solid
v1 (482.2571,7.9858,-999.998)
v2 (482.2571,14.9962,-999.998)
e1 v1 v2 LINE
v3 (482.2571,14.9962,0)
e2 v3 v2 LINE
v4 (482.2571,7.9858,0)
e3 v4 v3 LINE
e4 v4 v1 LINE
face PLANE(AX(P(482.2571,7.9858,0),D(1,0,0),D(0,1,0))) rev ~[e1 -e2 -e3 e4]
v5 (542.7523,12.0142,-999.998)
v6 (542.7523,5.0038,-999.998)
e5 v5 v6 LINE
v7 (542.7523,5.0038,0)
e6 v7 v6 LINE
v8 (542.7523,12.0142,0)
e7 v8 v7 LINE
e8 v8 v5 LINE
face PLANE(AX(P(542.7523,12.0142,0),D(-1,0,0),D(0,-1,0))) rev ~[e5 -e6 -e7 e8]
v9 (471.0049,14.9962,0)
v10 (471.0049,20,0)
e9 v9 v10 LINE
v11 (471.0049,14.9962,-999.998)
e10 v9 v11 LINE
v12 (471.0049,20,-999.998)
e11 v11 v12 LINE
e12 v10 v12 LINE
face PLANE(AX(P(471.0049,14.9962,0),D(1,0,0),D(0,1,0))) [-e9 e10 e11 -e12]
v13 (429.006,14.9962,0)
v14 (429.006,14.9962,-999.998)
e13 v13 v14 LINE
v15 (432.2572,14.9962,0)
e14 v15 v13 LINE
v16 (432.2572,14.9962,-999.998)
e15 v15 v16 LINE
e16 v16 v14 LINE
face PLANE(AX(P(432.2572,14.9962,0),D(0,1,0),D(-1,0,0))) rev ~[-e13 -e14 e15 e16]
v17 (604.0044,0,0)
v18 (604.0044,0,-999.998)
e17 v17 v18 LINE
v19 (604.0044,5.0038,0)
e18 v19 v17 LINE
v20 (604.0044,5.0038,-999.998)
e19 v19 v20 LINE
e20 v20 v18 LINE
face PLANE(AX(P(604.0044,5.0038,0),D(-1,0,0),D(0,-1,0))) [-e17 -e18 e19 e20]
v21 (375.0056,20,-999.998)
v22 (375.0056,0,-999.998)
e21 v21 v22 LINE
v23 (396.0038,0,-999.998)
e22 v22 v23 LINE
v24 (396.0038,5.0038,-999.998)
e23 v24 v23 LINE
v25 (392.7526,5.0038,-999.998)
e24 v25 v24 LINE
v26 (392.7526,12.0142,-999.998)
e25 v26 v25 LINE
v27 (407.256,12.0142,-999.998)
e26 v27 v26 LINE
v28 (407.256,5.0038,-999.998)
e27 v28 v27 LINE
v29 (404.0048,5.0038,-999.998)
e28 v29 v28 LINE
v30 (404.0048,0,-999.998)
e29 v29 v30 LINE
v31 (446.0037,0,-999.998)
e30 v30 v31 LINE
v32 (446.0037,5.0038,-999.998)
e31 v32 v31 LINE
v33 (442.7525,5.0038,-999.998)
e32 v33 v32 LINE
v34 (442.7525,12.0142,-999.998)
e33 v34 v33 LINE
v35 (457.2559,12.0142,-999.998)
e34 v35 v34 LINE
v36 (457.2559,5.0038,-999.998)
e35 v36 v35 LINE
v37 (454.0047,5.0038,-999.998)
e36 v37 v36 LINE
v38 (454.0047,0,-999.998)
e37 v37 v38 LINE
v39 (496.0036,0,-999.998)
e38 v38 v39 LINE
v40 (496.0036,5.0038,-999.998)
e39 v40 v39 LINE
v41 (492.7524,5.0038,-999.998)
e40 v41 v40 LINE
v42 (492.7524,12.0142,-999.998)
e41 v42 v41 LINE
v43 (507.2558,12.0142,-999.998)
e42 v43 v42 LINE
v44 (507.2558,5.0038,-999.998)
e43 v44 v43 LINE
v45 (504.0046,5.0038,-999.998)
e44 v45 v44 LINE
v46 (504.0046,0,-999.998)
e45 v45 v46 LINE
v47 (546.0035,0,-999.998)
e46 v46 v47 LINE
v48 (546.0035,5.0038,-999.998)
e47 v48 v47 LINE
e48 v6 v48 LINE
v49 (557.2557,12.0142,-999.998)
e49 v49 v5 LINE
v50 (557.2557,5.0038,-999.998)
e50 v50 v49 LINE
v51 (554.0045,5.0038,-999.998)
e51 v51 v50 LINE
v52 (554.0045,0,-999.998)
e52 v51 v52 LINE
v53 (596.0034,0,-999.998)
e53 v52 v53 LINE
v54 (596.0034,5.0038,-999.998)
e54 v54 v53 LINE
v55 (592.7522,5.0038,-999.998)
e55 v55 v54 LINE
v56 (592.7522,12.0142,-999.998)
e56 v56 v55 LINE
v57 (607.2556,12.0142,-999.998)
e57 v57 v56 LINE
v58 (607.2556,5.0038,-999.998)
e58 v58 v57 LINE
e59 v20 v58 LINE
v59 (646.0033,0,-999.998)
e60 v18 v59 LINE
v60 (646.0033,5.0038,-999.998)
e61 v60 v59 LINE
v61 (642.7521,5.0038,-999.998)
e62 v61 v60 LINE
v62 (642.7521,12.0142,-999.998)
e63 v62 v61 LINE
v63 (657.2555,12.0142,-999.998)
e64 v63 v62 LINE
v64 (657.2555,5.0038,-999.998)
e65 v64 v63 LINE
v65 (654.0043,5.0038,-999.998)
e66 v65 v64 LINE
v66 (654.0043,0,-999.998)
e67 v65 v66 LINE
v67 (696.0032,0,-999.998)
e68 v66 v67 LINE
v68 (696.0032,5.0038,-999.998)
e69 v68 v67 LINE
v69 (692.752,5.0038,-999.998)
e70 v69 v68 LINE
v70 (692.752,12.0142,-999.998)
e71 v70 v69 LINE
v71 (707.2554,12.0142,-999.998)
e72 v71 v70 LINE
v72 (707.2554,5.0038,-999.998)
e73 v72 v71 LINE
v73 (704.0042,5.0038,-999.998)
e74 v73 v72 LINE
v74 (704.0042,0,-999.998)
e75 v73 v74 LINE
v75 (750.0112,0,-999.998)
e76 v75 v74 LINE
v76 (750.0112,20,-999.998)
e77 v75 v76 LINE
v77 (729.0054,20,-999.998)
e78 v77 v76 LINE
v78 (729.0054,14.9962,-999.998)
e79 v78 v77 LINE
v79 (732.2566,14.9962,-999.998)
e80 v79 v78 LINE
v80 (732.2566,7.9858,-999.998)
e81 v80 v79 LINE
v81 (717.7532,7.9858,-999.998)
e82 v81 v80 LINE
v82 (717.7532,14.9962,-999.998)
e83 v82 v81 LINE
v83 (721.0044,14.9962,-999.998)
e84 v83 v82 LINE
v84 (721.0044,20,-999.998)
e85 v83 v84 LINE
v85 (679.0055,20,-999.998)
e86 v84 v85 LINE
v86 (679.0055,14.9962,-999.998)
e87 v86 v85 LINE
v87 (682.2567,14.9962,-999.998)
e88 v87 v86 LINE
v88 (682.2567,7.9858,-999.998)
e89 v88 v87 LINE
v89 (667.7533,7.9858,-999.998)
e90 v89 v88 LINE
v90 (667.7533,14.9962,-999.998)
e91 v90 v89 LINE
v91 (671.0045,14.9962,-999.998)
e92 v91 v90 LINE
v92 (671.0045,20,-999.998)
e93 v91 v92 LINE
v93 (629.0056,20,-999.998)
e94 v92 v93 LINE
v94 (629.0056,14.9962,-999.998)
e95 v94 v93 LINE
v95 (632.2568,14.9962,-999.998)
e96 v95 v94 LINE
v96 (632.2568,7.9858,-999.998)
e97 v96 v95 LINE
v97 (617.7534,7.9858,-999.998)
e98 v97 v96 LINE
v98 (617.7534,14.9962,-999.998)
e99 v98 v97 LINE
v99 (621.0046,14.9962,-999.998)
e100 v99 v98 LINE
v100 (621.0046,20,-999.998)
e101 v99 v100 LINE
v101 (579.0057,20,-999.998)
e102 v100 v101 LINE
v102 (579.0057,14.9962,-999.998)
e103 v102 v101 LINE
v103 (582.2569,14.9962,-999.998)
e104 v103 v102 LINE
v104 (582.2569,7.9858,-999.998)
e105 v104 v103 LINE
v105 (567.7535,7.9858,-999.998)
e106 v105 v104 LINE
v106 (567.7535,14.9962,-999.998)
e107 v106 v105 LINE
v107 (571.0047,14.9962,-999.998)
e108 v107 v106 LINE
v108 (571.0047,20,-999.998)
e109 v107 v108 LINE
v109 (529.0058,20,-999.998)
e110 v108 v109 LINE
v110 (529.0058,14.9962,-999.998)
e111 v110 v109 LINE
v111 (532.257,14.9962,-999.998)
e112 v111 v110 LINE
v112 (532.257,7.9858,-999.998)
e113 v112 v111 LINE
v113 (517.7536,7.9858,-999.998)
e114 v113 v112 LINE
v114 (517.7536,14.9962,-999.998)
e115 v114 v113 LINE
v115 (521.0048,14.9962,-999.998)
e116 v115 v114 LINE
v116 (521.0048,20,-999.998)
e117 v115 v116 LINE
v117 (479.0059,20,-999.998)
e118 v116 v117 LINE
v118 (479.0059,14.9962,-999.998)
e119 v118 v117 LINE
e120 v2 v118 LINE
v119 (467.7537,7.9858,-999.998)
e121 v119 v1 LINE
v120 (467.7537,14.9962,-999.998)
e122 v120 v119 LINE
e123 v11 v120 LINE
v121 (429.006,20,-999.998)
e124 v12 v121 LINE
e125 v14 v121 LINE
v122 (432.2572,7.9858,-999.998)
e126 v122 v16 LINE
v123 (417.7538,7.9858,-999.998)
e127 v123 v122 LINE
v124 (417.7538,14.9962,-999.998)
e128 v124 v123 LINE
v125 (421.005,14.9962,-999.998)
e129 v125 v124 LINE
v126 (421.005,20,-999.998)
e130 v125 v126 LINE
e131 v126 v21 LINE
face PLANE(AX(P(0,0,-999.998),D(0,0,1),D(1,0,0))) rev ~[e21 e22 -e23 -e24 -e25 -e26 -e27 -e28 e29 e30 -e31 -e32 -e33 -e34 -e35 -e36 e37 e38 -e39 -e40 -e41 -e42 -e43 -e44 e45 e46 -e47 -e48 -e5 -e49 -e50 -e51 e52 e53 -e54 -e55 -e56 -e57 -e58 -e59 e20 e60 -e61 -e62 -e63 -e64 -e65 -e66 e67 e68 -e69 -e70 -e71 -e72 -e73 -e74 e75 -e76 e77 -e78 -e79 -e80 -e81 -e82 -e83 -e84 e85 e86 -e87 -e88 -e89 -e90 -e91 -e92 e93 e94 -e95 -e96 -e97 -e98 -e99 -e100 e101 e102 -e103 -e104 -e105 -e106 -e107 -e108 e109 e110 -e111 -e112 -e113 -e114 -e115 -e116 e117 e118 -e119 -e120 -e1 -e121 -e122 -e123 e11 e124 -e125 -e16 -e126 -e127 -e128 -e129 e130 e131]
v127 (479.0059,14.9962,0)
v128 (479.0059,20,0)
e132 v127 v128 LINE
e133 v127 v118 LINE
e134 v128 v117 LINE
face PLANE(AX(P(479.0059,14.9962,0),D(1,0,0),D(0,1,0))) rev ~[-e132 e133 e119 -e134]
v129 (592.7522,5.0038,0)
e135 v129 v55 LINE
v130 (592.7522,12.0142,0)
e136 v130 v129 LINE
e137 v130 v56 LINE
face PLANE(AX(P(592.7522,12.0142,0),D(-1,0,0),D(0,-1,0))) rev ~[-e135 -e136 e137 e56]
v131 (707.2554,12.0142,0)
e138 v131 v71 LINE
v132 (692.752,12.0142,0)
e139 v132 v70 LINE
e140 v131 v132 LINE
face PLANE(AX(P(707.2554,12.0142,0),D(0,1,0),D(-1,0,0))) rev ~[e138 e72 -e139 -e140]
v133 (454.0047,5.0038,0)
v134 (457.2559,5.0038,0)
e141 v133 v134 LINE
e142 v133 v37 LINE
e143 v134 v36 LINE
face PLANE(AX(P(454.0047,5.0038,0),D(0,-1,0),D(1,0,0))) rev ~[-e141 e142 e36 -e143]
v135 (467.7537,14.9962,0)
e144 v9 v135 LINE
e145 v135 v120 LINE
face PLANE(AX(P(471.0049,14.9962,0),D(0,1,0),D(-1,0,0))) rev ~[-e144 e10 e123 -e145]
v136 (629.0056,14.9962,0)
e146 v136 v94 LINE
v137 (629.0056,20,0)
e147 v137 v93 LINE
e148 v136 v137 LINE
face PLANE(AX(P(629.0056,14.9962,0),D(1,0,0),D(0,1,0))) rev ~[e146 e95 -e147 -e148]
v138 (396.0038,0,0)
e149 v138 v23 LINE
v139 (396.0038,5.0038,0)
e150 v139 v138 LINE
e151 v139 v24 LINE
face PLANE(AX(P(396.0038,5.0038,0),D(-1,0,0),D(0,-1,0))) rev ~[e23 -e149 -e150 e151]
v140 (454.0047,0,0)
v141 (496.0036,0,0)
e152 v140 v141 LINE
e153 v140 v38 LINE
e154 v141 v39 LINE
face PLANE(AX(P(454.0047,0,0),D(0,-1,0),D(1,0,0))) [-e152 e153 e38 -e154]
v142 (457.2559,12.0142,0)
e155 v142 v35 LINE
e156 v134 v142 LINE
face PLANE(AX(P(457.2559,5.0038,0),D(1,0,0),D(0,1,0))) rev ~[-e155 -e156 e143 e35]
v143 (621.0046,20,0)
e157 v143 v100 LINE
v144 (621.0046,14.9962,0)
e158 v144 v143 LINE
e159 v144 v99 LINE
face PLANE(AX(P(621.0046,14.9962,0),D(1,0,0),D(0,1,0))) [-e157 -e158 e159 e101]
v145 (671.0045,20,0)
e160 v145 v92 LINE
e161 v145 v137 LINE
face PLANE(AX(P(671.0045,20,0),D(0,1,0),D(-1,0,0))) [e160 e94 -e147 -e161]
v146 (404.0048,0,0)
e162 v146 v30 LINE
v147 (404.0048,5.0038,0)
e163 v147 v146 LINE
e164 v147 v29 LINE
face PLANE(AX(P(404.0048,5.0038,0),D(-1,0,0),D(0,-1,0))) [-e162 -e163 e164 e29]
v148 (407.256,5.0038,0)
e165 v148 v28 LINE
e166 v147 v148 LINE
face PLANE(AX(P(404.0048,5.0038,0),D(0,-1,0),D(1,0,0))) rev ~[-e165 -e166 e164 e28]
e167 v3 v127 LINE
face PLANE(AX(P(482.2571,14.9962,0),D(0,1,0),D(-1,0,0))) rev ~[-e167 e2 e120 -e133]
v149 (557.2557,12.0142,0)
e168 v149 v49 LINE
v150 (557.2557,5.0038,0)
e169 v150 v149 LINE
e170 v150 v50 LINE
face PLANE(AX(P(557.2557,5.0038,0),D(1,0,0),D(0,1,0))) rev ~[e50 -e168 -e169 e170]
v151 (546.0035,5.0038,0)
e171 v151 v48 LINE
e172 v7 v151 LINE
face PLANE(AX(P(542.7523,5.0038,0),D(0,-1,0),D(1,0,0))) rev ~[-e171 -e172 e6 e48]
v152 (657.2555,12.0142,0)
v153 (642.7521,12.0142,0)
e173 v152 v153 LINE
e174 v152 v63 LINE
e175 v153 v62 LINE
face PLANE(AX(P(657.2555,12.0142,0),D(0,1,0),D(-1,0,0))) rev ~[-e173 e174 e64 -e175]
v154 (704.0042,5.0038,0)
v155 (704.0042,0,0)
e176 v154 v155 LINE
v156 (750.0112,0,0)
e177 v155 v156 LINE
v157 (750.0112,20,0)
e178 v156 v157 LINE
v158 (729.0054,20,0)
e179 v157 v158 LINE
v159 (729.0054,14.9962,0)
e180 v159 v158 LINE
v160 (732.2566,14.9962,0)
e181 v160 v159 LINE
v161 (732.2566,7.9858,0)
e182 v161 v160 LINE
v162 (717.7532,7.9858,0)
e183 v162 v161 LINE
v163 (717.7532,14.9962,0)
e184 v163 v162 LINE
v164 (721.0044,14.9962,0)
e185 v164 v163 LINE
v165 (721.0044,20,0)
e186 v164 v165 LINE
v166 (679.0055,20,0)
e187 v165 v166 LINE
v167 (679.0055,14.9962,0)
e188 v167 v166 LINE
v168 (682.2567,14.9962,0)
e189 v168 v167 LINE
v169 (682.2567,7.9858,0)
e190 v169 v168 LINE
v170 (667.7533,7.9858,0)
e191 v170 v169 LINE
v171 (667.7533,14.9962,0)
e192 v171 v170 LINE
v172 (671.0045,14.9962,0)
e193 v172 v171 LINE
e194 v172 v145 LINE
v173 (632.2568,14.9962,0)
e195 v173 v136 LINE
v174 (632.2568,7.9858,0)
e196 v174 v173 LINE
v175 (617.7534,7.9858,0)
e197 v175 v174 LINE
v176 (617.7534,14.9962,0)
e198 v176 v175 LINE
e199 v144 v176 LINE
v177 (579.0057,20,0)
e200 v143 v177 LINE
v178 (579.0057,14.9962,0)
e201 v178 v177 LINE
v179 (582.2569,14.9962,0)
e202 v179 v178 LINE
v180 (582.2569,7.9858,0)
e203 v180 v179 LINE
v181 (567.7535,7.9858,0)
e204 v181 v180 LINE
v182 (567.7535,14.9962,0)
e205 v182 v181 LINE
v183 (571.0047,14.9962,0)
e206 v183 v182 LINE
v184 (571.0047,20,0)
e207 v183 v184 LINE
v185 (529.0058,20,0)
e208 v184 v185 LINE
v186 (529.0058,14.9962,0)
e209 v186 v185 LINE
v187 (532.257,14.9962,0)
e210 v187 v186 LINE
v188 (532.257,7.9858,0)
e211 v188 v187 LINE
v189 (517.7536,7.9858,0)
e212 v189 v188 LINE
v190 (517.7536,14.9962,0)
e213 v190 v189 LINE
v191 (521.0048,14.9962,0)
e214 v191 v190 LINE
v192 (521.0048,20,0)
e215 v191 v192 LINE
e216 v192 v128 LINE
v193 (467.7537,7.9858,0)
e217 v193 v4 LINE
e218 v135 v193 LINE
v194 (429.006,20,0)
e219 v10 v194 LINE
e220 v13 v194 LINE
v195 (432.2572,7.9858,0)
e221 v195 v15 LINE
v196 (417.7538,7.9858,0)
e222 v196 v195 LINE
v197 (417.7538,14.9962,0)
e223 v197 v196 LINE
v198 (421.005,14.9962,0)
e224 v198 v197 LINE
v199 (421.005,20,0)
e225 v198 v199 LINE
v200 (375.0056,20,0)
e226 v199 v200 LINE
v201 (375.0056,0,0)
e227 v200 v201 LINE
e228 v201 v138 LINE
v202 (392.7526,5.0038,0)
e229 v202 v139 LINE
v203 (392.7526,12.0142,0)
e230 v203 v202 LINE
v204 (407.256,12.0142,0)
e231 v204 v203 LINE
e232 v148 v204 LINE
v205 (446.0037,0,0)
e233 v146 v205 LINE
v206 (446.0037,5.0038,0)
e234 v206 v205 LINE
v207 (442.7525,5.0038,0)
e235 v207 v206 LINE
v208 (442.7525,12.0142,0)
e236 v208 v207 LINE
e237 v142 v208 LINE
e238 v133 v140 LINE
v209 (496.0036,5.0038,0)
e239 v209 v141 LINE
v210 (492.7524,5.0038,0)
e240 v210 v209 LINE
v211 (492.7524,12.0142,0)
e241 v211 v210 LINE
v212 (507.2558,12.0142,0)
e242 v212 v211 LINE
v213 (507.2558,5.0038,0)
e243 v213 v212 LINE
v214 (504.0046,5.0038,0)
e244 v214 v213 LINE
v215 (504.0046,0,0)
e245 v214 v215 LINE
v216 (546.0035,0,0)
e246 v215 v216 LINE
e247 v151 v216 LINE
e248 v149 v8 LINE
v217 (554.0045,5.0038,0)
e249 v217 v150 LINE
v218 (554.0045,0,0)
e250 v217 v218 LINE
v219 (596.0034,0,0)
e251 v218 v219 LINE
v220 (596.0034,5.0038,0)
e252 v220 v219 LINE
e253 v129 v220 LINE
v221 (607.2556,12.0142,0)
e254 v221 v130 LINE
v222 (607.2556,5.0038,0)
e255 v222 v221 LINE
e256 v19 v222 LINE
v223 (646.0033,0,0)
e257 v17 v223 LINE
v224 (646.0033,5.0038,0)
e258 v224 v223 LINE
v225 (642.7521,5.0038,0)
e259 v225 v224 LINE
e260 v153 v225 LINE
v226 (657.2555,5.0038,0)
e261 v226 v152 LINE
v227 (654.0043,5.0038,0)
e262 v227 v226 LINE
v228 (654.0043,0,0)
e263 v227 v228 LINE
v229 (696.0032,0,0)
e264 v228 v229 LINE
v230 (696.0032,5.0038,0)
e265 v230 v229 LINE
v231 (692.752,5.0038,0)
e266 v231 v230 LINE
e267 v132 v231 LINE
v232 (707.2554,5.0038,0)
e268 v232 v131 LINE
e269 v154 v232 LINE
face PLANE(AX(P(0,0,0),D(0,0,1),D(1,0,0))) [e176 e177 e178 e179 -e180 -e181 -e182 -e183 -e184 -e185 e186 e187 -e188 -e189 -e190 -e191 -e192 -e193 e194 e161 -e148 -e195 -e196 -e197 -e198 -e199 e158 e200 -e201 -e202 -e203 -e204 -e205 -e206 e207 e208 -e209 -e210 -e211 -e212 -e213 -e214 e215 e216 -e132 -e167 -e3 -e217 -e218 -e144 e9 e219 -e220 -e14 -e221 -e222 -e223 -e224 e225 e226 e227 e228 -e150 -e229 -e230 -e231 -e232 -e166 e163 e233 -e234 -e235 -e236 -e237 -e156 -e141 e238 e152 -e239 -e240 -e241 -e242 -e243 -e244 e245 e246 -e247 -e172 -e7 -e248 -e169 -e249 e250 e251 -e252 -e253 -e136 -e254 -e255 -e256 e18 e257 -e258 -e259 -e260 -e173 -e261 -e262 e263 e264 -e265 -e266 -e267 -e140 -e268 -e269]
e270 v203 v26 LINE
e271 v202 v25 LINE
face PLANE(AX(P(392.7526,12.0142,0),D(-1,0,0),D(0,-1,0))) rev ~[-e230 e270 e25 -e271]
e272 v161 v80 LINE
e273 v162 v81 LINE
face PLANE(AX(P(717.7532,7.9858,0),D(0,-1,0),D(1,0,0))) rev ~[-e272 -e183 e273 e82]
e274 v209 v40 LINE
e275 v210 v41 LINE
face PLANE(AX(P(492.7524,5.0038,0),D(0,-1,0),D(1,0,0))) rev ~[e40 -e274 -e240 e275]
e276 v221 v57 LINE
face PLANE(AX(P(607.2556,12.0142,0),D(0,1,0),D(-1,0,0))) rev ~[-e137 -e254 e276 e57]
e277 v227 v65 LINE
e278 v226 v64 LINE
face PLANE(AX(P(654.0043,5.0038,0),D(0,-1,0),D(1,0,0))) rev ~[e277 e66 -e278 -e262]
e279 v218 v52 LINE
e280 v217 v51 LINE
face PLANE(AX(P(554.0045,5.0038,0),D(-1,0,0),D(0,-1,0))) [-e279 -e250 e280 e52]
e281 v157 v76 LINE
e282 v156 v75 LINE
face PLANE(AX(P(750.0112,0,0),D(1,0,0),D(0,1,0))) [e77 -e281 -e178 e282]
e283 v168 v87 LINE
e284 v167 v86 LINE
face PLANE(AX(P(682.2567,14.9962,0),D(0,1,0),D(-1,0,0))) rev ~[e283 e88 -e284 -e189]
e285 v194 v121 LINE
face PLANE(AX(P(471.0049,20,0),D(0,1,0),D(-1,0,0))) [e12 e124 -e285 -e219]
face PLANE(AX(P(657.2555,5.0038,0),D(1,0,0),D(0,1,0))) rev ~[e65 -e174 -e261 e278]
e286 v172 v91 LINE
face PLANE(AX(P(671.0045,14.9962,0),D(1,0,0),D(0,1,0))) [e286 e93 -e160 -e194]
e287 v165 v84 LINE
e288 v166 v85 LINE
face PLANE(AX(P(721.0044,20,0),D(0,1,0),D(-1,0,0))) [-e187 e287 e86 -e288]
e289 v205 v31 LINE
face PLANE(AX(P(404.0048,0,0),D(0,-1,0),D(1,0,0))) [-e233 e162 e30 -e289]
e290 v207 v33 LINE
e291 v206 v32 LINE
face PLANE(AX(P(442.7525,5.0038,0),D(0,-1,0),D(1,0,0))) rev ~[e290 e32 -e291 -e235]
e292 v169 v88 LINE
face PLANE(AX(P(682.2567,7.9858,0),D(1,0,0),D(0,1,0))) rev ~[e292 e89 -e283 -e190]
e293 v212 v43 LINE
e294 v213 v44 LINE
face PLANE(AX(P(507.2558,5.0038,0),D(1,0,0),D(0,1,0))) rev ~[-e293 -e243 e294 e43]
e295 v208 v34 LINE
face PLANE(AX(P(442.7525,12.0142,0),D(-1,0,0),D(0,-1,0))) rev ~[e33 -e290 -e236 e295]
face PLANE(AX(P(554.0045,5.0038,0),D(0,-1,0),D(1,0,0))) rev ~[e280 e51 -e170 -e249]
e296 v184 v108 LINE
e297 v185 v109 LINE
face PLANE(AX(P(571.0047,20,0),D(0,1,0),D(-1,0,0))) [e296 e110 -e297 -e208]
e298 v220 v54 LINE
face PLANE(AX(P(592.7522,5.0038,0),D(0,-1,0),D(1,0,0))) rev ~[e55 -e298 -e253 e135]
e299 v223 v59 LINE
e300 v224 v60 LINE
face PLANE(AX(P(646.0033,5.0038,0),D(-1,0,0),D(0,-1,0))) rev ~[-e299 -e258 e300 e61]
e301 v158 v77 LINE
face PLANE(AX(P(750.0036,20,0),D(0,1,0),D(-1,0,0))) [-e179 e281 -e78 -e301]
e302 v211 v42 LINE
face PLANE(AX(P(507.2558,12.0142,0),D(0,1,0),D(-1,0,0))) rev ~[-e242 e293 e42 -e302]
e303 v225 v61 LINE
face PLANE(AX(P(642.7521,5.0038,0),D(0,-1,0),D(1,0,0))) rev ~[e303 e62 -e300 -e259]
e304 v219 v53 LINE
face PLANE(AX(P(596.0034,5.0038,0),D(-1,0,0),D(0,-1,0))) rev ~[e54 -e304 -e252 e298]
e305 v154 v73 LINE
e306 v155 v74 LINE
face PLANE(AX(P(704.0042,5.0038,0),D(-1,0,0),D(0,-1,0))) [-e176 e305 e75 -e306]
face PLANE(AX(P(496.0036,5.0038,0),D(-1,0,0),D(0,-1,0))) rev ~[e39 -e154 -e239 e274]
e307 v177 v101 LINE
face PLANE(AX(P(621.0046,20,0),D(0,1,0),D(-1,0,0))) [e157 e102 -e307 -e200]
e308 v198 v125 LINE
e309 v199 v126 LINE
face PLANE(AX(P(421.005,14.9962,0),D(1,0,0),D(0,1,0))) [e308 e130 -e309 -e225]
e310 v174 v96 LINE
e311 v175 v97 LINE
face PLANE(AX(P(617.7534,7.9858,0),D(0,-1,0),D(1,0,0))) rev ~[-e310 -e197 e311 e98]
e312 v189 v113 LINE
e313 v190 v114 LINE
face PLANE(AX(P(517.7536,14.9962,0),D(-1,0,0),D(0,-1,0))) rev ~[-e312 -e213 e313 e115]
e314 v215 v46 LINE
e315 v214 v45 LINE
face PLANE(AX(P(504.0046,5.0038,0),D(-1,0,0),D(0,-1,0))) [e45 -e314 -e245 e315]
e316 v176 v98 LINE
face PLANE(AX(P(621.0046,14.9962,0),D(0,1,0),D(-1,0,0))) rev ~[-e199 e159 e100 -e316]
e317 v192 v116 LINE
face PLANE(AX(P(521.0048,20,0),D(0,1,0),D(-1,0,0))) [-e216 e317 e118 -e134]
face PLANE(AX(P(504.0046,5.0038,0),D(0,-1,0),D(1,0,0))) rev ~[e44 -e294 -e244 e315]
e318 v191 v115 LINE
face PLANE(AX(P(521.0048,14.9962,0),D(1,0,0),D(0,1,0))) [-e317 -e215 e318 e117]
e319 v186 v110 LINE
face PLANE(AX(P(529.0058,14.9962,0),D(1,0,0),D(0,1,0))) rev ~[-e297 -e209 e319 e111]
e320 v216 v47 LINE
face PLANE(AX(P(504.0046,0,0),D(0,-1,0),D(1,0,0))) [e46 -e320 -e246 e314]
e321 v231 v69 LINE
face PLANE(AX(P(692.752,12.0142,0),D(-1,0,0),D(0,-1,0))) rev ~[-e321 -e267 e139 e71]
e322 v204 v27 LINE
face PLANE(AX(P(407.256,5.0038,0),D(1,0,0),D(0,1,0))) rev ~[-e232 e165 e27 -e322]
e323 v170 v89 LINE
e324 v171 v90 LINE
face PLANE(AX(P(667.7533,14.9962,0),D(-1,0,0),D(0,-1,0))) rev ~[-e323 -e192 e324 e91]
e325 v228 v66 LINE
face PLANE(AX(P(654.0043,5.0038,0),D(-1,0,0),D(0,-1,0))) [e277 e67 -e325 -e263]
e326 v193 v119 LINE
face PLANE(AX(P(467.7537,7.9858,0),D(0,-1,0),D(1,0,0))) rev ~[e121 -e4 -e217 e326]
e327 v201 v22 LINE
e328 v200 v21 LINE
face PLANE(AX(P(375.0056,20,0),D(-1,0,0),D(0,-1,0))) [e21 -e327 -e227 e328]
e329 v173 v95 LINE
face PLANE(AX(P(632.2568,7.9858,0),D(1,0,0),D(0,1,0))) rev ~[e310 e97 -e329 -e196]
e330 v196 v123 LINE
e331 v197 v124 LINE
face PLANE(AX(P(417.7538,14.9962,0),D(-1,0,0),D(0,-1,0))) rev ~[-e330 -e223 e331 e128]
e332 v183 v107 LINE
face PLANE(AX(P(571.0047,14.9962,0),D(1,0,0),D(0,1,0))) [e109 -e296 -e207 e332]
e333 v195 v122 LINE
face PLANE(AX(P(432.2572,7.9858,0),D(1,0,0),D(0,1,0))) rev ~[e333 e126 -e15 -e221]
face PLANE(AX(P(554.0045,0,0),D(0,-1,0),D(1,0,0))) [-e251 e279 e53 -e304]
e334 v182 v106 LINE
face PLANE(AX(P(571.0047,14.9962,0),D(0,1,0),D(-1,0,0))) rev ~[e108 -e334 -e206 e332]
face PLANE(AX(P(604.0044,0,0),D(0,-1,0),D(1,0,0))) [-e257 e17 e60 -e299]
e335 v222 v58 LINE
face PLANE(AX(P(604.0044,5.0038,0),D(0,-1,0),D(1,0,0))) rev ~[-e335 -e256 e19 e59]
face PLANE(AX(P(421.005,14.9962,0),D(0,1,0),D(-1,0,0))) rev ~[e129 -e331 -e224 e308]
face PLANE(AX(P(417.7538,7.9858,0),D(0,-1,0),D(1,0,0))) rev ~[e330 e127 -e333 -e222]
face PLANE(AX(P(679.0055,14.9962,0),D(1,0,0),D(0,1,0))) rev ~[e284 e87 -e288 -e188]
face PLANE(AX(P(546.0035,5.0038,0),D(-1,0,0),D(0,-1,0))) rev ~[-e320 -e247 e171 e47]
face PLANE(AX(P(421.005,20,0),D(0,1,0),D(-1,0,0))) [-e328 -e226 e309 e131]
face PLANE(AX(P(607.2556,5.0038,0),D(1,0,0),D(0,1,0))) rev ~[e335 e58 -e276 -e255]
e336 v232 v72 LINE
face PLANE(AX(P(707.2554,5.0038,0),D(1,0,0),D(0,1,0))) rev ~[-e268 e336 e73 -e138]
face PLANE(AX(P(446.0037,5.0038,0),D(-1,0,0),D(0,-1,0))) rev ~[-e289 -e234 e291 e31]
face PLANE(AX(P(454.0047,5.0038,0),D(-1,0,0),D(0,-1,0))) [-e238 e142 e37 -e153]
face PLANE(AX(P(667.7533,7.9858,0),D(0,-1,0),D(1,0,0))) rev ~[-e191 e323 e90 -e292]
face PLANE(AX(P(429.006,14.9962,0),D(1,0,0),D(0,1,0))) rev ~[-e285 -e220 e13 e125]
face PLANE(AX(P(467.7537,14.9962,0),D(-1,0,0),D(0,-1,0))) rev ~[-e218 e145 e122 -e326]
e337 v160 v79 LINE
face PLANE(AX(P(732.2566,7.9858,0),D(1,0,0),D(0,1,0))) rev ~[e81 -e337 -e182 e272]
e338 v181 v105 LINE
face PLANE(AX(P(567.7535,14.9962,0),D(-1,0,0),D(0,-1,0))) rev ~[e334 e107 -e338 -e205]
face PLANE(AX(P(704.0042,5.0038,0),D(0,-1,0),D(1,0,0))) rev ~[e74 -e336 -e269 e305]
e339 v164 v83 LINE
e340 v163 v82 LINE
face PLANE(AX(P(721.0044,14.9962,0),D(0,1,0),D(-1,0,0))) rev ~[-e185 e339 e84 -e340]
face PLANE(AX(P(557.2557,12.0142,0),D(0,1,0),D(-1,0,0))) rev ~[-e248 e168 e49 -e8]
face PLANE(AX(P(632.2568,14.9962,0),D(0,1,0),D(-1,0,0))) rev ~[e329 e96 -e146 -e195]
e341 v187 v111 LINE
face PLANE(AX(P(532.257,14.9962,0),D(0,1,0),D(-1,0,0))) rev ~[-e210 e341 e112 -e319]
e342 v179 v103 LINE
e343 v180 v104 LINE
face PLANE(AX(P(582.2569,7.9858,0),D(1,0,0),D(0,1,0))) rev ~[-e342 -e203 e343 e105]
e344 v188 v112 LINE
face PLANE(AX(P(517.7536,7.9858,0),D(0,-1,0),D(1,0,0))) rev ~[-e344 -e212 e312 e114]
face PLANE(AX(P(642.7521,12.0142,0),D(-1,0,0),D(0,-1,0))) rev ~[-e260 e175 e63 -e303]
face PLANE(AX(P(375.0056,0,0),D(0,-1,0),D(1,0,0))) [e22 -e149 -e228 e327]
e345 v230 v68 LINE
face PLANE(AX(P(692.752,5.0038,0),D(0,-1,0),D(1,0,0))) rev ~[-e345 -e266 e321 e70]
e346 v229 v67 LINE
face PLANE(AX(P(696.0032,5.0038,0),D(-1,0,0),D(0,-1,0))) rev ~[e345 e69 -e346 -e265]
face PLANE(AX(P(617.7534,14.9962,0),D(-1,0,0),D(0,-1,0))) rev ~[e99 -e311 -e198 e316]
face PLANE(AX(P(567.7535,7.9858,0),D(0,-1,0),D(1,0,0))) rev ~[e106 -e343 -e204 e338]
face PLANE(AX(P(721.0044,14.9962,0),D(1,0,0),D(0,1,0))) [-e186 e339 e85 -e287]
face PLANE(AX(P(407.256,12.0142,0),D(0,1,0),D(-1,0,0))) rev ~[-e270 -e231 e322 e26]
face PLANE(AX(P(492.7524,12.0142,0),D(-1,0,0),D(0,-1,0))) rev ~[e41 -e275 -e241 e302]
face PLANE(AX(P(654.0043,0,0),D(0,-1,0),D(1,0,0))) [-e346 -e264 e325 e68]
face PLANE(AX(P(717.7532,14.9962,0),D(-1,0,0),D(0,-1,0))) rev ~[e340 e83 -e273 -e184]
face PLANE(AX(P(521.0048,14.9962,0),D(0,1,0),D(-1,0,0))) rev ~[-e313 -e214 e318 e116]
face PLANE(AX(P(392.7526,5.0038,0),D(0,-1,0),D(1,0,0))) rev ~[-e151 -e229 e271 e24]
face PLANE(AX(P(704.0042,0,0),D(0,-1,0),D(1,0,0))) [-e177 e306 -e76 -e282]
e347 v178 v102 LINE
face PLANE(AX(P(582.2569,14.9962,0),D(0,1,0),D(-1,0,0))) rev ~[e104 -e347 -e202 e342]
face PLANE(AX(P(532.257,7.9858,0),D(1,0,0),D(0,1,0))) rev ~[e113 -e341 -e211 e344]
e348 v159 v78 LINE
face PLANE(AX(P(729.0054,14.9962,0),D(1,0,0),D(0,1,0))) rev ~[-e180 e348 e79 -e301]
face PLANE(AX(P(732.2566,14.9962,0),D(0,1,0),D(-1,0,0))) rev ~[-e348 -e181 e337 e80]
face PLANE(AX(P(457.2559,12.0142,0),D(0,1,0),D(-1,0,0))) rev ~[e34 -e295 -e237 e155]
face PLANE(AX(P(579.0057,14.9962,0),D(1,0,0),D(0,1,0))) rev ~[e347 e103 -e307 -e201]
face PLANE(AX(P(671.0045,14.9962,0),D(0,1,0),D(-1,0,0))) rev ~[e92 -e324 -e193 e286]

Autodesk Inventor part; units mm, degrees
ref_plane "YZ Plane" through (0, 0, 0) normal (1, 0, 0) x (0, 1, 0)
ref_plane "XZ Plane" through (0, 0, 0) normal (0, 1, 0) x (-1, 0, 0)
ref_plane "XY Plane" through (0, 0, 0) normal (0, 0, 1) x (1, 0, 0)
sketch "Sketch1" plane through (0, 0, 0) normal (0, 0, 1) x (1, 0, 0)
  line L0 (375.0056, 0) -> (396.0038, 0)
  line L1 (750.0112, 0) -> (750.0112, 20)
  line L2 (750.0112, 20) -> (729.0054, 20)
  line L3 (375.0056, 20) -> (375.0056, 0)
  line L4 (750.0036, 20) -> (750.0036, 0)
  line L5 (392.7526, 5.0038) -> (396.0038, 5.0038)
  line L6 (404.0048, 5.0038) -> (407.256, 5.0038)
  line L7 (407.256, 5.0038) -> (407.256, 12.0142)
  line L8 (407.256, 12.0142) -> (392.7526, 12.0142)
  line L9 (392.7526, 12.0142) -> (392.7526, 5.0038)
  line L10 (404.0048, 5.0038) -> (404.0048, 0)
  line L11 (396.0038, 5.0038) -> (396.0038, 0)
  line L12 (442.7525, 5.0038) -> (446.0037, 5.0038)
  line L13 (454.0047, 5.0038) -> (457.2559, 5.0038)
  line L14 (457.2559, 5.0038) -> (457.2559, 12.0142)
  line L15 (457.2559, 12.0142) -> (442.7525, 12.0142)
  line L16 (442.7525, 12.0142) -> (442.7525, 5.0038)
  line L17 (454.0047, 5.0038) -> (454.0047, 0)
  line L18 (446.0037, 5.0038) -> (446.0037, 0)
  line L19 (492.7524, 5.0038) -> (496.0036, 5.0038)
  line L20 (504.0046, 5.0038) -> (507.2558, 5.0038)
  line L21 (507.2558, 5.0038) -> (507.2558, 12.0142)
  line L22 (507.2558, 12.0142) -> (492.7524, 12.0142)
  line L23 (492.7524, 12.0142) -> (492.7524, 5.0038)
  line L24 (504.0046, 5.0038) -> (504.0046, 0)
  line L25 (496.0036, 5.0038) -> (496.0036, 0)
  line L26 (542.7523, 5.0038) -> (546.0035, 5.0038)
  line L27 (554.0045, 5.0038) -> (557.2557, 5.0038)
  line L28 (557.2557, 5.0038) -> (557.2557, 12.0142)
  line L29 (557.2557, 12.0142) -> (542.7523, 12.0142)
  line L30 (542.7523, 12.0142) -> (542.7523, 5.0038)
  line L31 (554.0045, 5.0038) -> (554.0045, 0)
  line L32 (546.0035, 5.0038) -> (546.0035, 0)
  line L33 (592.7522, 5.0038) -> (596.0034, 5.0038)
  line L34 (604.0044, 5.0038) -> (607.2556, 5.0038)
  line L35 (607.2556, 5.0038) -> (607.2556, 12.0142)
  line L36 (607.2556, 12.0142) -> (592.7522, 12.0142)
  line L37 (592.7522, 12.0142) -> (592.7522, 5.0038)
  line L38 (604.0044, 5.0038) -> (604.0044, 0)
  line L39 (596.0034, 5.0038) -> (596.0034, 0)
  line L40 (642.7521, 5.0038) -> (646.0033, 5.0038)
  line L41 (654.0043, 5.0038) -> (657.2555, 5.0038)
  line L42 (657.2555, 5.0038) -> (657.2555, 12.0142)
  line L43 (657.2555, 12.0142) -> (642.7521, 12.0142)
  line L44 (642.7521, 12.0142) -> (642.7521, 5.0038)
  line L45 (654.0043, 5.0038) -> (654.0043, 0)
  line L46 (646.0033, 5.0038) -> (646.0033, 0)
  line L47 (692.752, 5.0038) -> (696.0032, 5.0038)
  line L48 (704.0042, 5.0038) -> (707.2554, 5.0038)
  line L49 (707.2554, 5.0038) -> (707.2554, 12.0142)
  line L50 (707.2554, 12.0142) -> (692.752, 12.0142)
  line L51 (692.752, 12.0142) -> (692.752, 5.0038)
  line L52 (704.0042, 5.0038) -> (704.0042, 0)
  line L53 (696.0032, 5.0038) -> (696.0032, 0)
  line L54 (432.2572, 14.9962) -> (429.006, 14.9962)
  line L55 (421.005, 14.9962) -> (417.7538, 14.9962)
  line L56 (417.7538, 14.9962) -> (417.7538, 7.9858)
  line L57 (417.7538, 7.9858) -> (432.2572, 7.9858)
  line L58 (432.2572, 7.9858) -> (432.2572, 14.9962)
  line L59 (421.005, 14.9962) -> (421.005, 20)
  line L60 (429.006, 14.9962) -> (429.006, 20)
  line L61 (482.2571, 14.9962) -> (479.0059, 14.9962)
  line L62 (471.0049, 14.9962) -> (467.7537, 14.9962)
  line L63 (467.7537, 14.9962) -> (467.7537, 7.9858)
  line L64 (467.7537, 7.9858) -> (482.2571, 7.9858)
  line L65 (482.2571, 7.9858) -> (482.2571, 14.9962)
  line L66 (471.0049, 14.9962) -> (471.0049, 20)
  line L67 (479.0059, 14.9962) -> (479.0059, 20)
  line L68 (532.257, 14.9962) -> (529.0058, 14.9962)
  line L69 (521.0048, 14.9962) -> (517.7536, 14.9962)
  line L70 (517.7536, 14.9962) -> (517.7536, 7.9858)
  line L71 (517.7536, 7.9858) -> (532.257, 7.9858)
  line L72 (532.257, 7.9858) -> (532.257, 14.9962)
  line L73 (521.0048, 14.9962) -> (521.0048, 20)
  line L74 (529.0058, 14.9962) -> (529.0058, 20)
  line L75 (582.2569, 14.9962) -> (579.0057, 14.9962)
  line L76 (571.0047, 14.9962) -> (567.7535, 14.9962)
  line L77 (567.7535, 14.9962) -> (567.7535, 7.9858)
  line L78 (567.7535, 7.9858) -> (582.2569, 7.9858)
  line L79 (582.2569, 7.9858) -> (582.2569, 14.9962)
  line L80 (571.0047, 14.9962) -> (571.0047, 20)
  line L81 (579.0057, 14.9962) -> (579.0057, 20)
  line L82 (632.2568, 14.9962) -> (629.0056, 14.9962)
  line L83 (621.0046, 14.9962) -> (617.7534, 14.9962)
  line L84 (617.7534, 14.9962) -> (617.7534, 7.9858)
  line L85 (617.7534, 7.9858) -> (632.2568, 7.9858)
  line L86 (632.2568, 7.9858) -> (632.2568, 14.9962)
  line L87 (621.0046, 14.9962) -> (621.0046, 20)
  line L88 (629.0056, 14.9962) -> (629.0056, 20)
  line L89 (682.2567, 14.9962) -> (679.0055, 14.9962)
  line L90 (671.0045, 14.9962) -> (667.7533, 14.9962)
  line L91 (667.7533, 14.9962) -> (667.7533, 7.9858)
  line L92 (667.7533, 7.9858) -> (682.2567, 7.9858)
  line L93 (682.2567, 7.9858) -> (682.2567, 14.9962)
  line L94 (671.0045, 14.9962) -> (671.0045, 20)
  line L95 (679.0055, 14.9962) -> (679.0055, 20)
  line L96 (732.2566, 14.9962) -> (729.0054, 14.9962)
  line L97 (721.0044, 14.9962) -> (717.7532, 14.9962)
  line L98 (717.7532, 14.9962) -> (717.7532, 7.9858)
  line L99 (717.7532, 7.9858) -> (732.2566, 7.9858)
  line L100 (732.2566, 7.9858) -> (732.2566, 14.9962)
  line L101 (721.0044, 14.9962) -> (721.0044, 20)
  line L102 (729.0054, 14.9962) -> (729.0054, 20)
  line L103 (404.0048, 0) -> (446.0037, 0)
  line L104 (454.0047, 0) -> (496.0036, 0)
  line L105 (504.0046, 0) -> (546.0035, 0)
  line L106 (554.0045, 0) -> (596.0034, 0)
  line L107 (604.0044, 0) -> (646.0033, 0)
  line L108 (621.0046, 20) -> (579.0057, 20)
  line L109 (654.0043, 0) -> (696.0032, 0)
  line L110 (671.0045, 20) -> (629.0056, 20)
  line L111 (704.0042, 0) -> (750.0112, 0)
  line L112 (721.0044, 20) -> (679.0055, 20)
  line L113 (571.0047, 20) -> (529.0058, 20)
  line L114 (521.0048, 20) -> (479.0059, 20)
  line L115 (471.0049, 20) -> (429.006, 20)
  line L116 (421.005, 20) -> (375.0056, 20)
  point P0 (0, 0)
extrude "Extrusion1" add sketch "Sketch1" against normal blind 999.998
properties part number "ISEL T-SLOT Table Section"
